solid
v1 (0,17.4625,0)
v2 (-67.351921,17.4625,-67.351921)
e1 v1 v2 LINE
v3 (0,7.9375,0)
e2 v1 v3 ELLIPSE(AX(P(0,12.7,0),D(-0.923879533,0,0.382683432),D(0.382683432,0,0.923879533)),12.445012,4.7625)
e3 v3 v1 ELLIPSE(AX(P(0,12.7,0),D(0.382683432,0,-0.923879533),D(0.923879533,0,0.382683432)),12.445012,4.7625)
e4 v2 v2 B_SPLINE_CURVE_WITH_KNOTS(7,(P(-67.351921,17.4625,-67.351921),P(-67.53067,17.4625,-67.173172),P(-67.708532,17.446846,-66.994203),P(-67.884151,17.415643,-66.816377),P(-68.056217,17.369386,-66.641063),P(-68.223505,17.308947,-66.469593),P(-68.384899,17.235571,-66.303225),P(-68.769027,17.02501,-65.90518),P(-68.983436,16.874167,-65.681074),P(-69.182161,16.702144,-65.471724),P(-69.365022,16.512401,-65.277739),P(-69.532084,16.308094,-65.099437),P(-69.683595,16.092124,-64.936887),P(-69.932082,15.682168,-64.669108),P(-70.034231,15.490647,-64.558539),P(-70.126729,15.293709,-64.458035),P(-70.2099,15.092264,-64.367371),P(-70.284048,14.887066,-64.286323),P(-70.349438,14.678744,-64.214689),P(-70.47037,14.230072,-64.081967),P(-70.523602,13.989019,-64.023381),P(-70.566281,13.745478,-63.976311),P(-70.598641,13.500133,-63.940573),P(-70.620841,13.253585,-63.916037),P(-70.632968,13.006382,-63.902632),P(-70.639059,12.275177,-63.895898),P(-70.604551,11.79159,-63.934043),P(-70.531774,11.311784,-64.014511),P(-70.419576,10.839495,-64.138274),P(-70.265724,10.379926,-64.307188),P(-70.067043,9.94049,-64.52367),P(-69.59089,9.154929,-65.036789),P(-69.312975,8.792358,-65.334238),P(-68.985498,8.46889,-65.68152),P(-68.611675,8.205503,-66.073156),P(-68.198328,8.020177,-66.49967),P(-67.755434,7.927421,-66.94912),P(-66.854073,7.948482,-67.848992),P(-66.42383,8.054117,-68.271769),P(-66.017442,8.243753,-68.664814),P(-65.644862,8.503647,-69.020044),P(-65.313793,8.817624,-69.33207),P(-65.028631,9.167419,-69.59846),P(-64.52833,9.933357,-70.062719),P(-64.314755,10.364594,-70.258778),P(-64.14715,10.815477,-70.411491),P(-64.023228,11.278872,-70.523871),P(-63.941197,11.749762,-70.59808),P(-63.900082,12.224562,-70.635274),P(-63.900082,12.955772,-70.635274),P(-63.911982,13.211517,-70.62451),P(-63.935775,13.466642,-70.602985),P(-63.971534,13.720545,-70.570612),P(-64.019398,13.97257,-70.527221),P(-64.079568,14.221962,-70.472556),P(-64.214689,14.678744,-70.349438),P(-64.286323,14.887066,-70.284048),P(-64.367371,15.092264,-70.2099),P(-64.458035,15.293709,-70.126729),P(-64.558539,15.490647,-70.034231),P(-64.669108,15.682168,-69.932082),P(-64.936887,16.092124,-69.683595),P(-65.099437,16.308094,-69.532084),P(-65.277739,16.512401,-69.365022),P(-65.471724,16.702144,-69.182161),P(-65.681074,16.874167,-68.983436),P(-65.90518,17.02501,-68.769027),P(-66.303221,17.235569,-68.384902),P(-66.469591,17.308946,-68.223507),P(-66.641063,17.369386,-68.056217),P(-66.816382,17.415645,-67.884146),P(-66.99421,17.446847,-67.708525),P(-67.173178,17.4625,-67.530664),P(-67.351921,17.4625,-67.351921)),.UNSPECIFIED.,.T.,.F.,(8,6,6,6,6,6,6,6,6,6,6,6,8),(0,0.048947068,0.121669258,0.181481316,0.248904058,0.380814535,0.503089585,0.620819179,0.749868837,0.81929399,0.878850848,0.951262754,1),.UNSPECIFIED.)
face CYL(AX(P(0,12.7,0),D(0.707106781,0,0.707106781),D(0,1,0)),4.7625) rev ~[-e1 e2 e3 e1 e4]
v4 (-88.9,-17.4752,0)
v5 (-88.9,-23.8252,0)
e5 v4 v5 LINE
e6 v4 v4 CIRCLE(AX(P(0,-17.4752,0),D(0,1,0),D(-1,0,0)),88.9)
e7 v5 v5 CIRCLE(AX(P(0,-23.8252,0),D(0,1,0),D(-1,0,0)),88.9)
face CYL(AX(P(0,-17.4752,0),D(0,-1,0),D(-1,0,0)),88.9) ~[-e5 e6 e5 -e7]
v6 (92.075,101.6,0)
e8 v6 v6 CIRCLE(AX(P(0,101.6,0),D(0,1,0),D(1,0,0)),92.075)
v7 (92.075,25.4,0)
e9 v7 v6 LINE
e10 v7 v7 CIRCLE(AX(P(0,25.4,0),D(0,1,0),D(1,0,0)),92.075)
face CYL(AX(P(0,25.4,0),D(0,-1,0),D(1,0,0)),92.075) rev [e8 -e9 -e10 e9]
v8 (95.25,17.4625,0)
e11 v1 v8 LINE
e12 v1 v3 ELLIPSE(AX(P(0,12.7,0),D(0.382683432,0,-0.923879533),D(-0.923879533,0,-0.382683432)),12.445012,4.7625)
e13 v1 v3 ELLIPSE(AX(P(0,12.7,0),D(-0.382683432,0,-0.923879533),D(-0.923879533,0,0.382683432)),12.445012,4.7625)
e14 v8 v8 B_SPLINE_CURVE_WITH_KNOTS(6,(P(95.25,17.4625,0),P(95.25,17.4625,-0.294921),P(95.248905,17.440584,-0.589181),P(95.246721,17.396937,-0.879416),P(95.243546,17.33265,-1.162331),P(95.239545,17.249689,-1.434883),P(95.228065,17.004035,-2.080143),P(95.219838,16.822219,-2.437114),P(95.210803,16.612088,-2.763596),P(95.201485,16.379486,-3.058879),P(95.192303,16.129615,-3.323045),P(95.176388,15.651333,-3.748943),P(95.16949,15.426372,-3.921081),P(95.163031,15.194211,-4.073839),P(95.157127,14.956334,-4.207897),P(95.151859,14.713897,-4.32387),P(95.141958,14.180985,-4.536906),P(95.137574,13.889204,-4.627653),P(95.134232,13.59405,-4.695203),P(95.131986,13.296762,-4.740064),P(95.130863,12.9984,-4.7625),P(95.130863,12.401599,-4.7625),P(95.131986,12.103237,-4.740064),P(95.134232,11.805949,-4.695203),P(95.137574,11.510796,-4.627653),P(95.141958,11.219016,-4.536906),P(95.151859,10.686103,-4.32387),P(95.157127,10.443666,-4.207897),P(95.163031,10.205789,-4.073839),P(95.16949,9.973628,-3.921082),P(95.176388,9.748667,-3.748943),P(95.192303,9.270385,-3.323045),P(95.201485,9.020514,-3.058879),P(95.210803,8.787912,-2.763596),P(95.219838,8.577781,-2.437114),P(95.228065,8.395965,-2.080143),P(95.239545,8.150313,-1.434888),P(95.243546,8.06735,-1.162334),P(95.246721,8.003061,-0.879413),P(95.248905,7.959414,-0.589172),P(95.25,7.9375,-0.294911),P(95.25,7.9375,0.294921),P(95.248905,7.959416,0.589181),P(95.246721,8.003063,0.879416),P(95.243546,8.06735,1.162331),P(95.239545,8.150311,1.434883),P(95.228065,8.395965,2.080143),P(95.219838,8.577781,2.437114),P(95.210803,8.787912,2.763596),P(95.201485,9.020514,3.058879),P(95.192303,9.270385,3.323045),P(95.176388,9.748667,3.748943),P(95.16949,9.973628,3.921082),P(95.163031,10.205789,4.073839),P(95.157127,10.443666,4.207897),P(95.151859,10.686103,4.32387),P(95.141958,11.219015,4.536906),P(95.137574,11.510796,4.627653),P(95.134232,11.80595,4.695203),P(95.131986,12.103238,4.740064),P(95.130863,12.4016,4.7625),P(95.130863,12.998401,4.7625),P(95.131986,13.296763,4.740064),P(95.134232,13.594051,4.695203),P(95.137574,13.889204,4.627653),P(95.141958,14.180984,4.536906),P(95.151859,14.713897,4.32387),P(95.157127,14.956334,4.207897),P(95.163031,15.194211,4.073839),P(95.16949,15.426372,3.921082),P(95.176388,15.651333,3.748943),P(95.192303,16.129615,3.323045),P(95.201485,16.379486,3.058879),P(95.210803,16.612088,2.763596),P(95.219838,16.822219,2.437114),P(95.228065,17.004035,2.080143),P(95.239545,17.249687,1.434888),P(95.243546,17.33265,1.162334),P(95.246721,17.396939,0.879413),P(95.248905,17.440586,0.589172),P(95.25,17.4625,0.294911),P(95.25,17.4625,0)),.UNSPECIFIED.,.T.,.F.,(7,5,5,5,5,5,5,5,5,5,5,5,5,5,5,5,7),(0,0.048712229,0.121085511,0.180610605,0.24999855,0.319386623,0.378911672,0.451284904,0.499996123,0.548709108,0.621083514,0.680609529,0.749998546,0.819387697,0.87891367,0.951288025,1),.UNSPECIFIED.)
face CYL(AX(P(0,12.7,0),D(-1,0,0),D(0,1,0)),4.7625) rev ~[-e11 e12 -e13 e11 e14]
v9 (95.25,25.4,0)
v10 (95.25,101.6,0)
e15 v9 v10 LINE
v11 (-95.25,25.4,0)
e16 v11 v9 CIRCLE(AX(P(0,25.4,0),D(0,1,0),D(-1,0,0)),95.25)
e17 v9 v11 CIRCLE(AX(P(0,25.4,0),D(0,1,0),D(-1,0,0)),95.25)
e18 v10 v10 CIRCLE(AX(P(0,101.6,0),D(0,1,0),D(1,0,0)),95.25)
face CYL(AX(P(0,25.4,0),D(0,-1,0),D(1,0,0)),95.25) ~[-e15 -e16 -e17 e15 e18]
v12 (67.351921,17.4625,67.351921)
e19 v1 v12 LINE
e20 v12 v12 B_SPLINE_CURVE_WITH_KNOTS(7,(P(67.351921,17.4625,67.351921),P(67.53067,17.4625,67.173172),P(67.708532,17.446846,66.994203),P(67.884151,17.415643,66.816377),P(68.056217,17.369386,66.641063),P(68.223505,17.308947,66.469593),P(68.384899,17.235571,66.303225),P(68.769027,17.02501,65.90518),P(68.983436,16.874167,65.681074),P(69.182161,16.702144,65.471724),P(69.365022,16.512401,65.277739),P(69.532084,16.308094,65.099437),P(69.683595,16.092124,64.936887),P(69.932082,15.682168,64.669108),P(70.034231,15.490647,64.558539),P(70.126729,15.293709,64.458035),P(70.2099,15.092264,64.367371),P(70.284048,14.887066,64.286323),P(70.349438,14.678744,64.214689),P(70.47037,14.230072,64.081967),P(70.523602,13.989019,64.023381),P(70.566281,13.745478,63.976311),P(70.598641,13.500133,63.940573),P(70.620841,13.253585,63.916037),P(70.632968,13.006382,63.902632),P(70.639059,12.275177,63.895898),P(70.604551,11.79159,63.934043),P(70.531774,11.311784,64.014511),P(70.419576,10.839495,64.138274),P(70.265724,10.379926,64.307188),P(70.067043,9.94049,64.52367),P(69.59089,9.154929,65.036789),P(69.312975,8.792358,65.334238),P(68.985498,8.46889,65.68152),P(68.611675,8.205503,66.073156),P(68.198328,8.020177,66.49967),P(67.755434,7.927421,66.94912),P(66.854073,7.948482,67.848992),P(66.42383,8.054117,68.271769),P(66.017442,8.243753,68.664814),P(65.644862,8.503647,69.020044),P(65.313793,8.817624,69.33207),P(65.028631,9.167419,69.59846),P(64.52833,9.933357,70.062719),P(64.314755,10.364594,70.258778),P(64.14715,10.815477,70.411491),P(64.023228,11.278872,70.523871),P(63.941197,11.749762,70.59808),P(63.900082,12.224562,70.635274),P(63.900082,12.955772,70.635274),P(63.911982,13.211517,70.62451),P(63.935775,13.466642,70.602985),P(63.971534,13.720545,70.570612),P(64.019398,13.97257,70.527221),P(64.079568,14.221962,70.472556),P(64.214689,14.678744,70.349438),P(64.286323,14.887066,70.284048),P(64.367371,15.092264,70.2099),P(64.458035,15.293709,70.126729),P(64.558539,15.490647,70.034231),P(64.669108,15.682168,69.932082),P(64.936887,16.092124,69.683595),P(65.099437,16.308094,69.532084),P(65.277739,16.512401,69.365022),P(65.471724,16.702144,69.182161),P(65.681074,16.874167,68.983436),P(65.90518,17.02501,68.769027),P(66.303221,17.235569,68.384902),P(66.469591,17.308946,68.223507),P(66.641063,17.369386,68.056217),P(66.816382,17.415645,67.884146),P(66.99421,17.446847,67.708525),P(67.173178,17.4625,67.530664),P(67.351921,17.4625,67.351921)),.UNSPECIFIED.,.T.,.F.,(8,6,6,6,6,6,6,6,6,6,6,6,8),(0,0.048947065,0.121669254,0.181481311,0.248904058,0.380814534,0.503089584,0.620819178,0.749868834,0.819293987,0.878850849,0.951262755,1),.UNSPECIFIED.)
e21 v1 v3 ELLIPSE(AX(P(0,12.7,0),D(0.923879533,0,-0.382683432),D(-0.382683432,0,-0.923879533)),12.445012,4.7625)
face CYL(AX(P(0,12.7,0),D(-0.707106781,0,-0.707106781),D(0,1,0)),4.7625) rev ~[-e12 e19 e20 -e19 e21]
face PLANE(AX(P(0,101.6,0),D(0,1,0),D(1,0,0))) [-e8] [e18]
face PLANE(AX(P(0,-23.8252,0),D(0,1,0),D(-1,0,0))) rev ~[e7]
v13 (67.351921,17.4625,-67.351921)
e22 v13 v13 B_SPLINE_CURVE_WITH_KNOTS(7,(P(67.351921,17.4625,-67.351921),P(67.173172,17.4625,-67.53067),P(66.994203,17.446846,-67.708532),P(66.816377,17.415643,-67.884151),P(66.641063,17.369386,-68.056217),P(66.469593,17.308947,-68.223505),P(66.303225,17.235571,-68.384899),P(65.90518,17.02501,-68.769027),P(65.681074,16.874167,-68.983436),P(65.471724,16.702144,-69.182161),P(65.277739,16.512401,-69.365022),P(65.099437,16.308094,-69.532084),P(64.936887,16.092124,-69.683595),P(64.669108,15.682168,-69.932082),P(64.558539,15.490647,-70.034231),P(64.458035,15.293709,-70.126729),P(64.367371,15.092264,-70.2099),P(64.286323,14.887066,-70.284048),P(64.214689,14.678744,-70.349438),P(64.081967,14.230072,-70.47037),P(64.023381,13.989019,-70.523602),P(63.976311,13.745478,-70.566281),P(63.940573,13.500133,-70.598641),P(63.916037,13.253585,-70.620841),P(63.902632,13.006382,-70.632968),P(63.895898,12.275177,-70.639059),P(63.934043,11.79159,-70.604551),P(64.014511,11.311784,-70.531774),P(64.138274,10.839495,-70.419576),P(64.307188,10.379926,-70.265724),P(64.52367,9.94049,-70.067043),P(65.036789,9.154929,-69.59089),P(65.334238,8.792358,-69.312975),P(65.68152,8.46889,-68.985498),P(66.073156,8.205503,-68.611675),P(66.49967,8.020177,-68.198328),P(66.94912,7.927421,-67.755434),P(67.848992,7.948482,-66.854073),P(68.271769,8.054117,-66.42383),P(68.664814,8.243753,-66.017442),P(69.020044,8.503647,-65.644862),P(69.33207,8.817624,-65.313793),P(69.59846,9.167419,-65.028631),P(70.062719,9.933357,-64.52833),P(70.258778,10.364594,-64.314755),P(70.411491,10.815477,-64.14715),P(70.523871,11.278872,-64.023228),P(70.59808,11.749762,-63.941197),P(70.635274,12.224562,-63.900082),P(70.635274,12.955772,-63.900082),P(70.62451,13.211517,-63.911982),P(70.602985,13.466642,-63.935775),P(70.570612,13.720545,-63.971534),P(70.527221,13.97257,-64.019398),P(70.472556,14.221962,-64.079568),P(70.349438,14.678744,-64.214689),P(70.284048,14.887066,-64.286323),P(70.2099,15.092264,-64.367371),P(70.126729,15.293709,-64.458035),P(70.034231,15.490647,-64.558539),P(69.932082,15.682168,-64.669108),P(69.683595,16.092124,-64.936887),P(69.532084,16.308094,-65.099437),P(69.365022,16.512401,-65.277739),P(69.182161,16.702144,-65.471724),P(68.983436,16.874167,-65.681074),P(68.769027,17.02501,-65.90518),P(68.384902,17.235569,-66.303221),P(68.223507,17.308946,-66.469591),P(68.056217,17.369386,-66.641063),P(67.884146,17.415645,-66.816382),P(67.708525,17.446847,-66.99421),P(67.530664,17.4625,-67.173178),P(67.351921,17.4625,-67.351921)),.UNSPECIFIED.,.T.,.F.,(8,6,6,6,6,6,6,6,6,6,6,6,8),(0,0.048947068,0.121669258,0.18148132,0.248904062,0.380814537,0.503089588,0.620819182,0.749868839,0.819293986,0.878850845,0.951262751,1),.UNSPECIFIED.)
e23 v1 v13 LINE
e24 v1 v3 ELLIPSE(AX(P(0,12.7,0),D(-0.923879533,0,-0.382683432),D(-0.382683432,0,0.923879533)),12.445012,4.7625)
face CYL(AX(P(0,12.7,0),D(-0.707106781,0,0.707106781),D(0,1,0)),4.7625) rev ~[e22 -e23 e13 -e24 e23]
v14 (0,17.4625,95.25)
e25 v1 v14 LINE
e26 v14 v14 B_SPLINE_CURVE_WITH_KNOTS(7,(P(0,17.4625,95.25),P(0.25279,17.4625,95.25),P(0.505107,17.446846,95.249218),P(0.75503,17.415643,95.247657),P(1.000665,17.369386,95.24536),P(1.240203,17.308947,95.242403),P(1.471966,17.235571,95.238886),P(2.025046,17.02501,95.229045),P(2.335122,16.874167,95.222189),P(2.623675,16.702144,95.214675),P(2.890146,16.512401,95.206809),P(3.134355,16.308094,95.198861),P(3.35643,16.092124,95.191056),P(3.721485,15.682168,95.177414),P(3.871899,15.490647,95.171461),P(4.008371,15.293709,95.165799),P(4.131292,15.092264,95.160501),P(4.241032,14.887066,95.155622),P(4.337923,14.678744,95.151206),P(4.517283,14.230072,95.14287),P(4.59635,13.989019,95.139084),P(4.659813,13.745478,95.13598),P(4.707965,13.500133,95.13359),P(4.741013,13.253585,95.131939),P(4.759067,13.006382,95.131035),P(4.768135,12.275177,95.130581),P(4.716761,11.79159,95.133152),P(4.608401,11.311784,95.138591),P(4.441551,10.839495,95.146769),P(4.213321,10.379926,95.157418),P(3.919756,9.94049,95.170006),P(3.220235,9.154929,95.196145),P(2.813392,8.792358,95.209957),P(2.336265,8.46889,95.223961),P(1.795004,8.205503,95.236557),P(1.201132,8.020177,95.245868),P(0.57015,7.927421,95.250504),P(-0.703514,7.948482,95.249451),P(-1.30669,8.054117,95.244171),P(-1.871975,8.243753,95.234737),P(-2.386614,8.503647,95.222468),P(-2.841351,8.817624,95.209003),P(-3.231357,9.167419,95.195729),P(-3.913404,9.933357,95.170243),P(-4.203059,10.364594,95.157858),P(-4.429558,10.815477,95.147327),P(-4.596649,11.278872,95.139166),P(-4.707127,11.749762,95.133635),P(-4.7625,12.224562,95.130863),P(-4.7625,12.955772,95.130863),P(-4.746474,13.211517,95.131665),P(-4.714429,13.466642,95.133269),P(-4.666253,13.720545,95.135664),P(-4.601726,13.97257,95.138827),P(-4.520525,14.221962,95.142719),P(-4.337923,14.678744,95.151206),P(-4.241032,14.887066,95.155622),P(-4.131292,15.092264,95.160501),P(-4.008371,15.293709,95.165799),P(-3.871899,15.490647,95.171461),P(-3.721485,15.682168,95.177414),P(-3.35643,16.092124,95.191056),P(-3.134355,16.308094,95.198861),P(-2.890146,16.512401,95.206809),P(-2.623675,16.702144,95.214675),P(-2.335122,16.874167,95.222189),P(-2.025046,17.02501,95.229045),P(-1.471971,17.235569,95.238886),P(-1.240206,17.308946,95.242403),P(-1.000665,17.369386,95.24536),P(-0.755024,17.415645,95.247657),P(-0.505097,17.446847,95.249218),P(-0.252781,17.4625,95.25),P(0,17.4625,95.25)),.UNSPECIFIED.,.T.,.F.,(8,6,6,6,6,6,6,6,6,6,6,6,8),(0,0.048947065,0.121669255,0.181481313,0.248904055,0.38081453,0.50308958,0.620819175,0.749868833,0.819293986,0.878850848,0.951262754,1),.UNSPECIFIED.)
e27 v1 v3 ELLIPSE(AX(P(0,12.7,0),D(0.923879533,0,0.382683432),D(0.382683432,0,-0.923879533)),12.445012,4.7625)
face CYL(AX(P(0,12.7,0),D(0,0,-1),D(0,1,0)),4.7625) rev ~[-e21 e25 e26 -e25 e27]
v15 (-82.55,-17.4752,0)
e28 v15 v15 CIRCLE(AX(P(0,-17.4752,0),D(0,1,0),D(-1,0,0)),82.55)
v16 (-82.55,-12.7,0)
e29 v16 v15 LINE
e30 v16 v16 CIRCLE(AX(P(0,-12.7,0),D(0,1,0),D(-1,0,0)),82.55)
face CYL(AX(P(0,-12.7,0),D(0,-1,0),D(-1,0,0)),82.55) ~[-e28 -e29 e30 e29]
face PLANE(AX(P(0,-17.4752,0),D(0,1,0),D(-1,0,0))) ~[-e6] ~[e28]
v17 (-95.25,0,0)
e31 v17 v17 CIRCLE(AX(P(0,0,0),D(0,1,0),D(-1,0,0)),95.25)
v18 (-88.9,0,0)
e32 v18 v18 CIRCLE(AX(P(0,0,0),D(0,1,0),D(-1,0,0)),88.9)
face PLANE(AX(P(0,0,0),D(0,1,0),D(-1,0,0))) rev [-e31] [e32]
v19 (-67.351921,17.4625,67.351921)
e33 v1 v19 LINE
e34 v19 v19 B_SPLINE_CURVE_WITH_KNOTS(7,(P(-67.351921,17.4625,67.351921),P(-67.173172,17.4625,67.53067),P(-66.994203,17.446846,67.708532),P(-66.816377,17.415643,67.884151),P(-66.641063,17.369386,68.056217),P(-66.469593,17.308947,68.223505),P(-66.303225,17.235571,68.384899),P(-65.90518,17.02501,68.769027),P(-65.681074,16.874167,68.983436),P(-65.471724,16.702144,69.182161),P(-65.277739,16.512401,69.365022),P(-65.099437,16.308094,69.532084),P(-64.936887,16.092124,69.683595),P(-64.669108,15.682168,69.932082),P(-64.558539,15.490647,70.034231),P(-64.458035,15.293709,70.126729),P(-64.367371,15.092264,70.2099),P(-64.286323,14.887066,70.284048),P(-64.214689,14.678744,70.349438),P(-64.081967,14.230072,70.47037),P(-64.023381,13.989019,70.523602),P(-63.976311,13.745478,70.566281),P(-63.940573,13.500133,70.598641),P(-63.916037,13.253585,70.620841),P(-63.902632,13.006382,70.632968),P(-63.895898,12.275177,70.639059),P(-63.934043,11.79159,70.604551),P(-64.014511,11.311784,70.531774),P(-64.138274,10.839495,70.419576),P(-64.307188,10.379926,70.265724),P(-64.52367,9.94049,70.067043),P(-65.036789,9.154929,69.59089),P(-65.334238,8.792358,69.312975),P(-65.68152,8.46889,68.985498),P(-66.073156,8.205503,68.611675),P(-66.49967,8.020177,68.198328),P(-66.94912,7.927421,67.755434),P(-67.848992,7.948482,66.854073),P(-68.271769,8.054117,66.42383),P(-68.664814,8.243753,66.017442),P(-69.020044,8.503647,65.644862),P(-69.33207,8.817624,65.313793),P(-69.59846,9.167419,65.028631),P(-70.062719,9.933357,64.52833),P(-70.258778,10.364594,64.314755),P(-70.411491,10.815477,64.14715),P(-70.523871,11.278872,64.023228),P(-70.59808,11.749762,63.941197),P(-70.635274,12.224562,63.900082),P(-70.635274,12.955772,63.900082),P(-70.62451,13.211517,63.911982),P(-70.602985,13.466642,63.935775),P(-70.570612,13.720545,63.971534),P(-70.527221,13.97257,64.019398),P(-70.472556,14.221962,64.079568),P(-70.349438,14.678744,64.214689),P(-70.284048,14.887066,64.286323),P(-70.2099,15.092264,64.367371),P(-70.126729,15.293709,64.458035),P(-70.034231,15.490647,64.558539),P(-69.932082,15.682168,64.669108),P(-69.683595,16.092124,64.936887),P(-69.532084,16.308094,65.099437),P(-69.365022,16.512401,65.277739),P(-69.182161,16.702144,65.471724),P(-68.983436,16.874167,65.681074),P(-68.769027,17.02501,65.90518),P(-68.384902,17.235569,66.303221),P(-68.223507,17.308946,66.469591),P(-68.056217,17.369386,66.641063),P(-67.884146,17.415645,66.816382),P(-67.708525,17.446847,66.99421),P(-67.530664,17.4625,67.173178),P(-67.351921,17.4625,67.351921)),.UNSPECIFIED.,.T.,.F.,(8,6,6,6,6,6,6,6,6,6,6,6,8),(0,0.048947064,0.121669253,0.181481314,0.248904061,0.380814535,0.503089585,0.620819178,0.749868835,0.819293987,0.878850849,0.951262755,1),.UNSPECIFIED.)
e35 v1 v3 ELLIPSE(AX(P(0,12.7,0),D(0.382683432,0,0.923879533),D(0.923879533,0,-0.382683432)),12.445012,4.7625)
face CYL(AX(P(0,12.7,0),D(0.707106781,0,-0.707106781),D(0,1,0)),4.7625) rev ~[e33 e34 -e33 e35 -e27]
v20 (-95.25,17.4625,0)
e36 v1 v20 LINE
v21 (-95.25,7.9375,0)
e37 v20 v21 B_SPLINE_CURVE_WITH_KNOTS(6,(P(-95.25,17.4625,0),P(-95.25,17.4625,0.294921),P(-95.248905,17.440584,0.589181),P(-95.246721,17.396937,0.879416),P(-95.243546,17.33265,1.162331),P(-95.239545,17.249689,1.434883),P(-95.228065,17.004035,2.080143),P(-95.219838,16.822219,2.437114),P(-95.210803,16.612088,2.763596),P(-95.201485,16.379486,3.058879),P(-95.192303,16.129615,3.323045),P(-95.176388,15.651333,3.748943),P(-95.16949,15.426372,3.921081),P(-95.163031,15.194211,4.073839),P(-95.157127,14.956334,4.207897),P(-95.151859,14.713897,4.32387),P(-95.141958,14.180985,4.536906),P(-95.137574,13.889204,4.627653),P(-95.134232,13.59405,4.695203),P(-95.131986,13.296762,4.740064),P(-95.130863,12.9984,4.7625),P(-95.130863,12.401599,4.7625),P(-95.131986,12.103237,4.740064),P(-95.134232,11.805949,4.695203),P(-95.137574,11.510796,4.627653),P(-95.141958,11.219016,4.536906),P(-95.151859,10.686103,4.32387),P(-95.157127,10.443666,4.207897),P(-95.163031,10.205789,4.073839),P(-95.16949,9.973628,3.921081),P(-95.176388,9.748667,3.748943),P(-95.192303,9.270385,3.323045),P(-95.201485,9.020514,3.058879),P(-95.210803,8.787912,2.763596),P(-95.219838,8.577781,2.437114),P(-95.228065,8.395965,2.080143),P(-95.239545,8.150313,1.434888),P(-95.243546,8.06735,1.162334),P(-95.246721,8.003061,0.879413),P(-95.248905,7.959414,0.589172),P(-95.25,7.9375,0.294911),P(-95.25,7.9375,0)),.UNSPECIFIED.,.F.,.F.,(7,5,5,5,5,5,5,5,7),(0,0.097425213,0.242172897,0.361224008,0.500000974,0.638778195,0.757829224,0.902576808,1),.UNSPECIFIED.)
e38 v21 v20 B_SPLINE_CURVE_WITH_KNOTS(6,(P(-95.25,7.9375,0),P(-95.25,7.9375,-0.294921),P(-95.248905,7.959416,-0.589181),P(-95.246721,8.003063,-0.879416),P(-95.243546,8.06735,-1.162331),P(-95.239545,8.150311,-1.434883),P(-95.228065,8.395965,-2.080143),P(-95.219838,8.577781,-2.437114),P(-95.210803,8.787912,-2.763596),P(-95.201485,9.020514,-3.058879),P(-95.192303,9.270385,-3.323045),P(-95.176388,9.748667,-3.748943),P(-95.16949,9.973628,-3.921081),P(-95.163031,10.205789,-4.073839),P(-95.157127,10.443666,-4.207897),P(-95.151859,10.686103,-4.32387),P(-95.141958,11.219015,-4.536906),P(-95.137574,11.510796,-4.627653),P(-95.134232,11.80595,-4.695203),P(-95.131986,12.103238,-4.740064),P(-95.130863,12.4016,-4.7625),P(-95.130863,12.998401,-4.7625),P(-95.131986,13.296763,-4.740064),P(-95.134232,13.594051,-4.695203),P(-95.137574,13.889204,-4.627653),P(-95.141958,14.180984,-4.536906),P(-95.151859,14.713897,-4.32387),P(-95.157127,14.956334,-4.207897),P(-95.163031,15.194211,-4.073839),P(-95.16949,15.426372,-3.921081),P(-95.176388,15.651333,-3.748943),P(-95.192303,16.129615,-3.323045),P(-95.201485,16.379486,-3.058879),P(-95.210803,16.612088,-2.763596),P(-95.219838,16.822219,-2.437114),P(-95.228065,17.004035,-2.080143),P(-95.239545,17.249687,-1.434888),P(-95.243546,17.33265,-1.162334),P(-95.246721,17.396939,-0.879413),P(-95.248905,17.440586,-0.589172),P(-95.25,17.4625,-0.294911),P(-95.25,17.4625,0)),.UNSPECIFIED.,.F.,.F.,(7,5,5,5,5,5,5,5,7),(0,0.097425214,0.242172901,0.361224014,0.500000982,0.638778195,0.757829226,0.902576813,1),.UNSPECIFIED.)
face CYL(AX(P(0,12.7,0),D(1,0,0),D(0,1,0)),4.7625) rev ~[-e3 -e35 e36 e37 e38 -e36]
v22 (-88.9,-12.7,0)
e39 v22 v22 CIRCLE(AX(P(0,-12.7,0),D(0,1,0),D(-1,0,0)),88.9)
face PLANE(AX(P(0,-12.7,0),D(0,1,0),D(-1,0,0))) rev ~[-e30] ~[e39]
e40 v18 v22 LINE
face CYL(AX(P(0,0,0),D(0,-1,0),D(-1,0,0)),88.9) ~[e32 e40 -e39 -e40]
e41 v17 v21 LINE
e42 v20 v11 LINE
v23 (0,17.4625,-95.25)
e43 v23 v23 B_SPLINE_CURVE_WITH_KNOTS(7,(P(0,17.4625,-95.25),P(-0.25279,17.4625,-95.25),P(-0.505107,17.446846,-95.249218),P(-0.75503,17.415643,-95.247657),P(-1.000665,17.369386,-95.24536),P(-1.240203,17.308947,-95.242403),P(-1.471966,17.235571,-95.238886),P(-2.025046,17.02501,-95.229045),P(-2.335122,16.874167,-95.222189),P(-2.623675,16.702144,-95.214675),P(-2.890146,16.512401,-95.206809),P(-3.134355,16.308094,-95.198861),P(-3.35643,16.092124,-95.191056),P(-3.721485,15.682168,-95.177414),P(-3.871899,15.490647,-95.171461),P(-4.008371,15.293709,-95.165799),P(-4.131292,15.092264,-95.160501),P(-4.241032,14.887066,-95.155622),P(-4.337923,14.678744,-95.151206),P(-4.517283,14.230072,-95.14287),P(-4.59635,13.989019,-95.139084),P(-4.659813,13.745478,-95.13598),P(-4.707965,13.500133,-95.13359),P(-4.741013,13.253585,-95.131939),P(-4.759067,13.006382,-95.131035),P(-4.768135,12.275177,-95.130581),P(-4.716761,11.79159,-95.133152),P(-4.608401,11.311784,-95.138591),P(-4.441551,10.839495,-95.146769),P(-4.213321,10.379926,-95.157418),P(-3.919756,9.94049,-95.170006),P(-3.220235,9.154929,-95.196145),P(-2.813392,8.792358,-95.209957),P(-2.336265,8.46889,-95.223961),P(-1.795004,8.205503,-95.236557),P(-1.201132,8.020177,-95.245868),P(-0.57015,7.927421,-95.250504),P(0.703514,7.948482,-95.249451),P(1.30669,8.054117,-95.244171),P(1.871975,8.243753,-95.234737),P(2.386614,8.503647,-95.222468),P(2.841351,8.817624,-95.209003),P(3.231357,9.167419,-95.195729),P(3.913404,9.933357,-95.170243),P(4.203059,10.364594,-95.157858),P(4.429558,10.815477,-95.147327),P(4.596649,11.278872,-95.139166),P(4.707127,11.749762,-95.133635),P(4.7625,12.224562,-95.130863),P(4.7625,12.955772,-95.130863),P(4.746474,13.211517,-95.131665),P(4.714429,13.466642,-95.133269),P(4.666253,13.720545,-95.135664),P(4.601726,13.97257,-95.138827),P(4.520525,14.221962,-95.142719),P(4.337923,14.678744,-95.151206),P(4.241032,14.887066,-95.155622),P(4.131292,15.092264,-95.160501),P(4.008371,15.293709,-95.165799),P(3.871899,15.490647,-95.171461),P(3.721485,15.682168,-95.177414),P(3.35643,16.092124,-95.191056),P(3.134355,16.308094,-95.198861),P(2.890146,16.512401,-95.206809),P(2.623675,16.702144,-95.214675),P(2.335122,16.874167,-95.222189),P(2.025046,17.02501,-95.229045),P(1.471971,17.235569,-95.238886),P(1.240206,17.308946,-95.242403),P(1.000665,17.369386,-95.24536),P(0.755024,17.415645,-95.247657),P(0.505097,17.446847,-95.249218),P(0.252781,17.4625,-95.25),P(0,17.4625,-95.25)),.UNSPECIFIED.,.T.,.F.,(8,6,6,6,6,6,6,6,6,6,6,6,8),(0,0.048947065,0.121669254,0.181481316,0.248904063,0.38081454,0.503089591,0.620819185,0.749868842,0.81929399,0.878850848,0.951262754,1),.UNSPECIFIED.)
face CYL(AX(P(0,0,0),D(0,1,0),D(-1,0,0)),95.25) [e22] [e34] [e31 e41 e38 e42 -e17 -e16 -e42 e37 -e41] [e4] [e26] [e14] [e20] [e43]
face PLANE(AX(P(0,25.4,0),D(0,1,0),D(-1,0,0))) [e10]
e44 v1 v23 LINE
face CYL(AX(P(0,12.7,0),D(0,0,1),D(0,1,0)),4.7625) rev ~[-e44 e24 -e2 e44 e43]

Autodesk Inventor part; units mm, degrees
ref_plane "YZ Plane" through (0, 0, 0) normal (1, 0, 0) x (0, 1, 0)
ref_plane "XZ Plane" through (0, 0, 0) normal (0, 1, 0) x (-1, 0, 0)
ref_plane "XY Plane" through (0, 0, 0) normal (0, 0, 1) x (1, 0, 0)
sketch "Sketch1" plane through (0, 0, 0) normal (0, 0, 1) x (1, 0, 0)
  line L0 (0, 0) -> (-88.9, 0)
  line L1 (-88.9, 0) -> (-88.9, -12.7)
  line L2 (-88.9, -12.7) -> (-82.55, -12.7)
  line L3 (-82.55, -12.7) -> (-82.55, -17.4752)
  line L4 (-82.55, -17.4752) -> (-88.9, -17.4752)
  line L5 (-88.9, -17.4752) -> (-88.9, -23.8252)
  line L6 (-88.9, -23.8252) -> (0, -23.8252)
  line L7 (0, 0) -> (0, 146.0976) construction
  line L8 (-88.9, 0) -> (-95.25, 0)
  line L9 (-95.25, 0) -> (-95.25, 25.4)
  line L10 (-95.25, 25.4) -> (0, 25.4)
  line L11 (0, 25.4) -> (0, -23.8252)
  dimension "d1" = 4.7752
  dimension "d2" = 88.9
  dimension "d3" = 0
  dimension "d5" = 95.25
  dimension "d6" = 6.35
  dimension "d7" = 12.7
  dimension "d8" = 25.4
  dimension "d13" = 6.35
  dimension "d21" = 6.35
revolve "Revolution1" add sketch "Sketch1" angle 360 about axis through (0, 0, 0) along (0, 1, 0)
sketch "Sketch2" plane through (0, 25.4, 0) normal (0, 1, 0) x (1, 0, 0)
  circle A0 centre (0, 0) radius 95.25
  circle A1 centre (0, 0) radius 92.075
  dimension "d9" = 190.5
  dimension "d10" = 184.15
extrude "Extrusion1" add sketch "Sketch2" along normal blind 76.2
sketch "Sketch3" plane through (0, 0, 0) normal (1, 0, 0) x (0, 1, 0)
  circle A0 centre (12.7, 0) radius 4.7625
  line L0 (0, -88.9) -> (0, 88.9) projected
  point P0 (0, 0)
  dimension "d14" = 12.7
  dimension "d15" = 9.525
extrude "Extrusion2" cut sketch "Sketch3" against normal blind 127
pattern_circular "Circular Pattern1" count 8 over 360 about axis through (0, -10, 0) along (0, 1, 0) of "Extrusion2"
properties part number "ForwardBulkHead"
